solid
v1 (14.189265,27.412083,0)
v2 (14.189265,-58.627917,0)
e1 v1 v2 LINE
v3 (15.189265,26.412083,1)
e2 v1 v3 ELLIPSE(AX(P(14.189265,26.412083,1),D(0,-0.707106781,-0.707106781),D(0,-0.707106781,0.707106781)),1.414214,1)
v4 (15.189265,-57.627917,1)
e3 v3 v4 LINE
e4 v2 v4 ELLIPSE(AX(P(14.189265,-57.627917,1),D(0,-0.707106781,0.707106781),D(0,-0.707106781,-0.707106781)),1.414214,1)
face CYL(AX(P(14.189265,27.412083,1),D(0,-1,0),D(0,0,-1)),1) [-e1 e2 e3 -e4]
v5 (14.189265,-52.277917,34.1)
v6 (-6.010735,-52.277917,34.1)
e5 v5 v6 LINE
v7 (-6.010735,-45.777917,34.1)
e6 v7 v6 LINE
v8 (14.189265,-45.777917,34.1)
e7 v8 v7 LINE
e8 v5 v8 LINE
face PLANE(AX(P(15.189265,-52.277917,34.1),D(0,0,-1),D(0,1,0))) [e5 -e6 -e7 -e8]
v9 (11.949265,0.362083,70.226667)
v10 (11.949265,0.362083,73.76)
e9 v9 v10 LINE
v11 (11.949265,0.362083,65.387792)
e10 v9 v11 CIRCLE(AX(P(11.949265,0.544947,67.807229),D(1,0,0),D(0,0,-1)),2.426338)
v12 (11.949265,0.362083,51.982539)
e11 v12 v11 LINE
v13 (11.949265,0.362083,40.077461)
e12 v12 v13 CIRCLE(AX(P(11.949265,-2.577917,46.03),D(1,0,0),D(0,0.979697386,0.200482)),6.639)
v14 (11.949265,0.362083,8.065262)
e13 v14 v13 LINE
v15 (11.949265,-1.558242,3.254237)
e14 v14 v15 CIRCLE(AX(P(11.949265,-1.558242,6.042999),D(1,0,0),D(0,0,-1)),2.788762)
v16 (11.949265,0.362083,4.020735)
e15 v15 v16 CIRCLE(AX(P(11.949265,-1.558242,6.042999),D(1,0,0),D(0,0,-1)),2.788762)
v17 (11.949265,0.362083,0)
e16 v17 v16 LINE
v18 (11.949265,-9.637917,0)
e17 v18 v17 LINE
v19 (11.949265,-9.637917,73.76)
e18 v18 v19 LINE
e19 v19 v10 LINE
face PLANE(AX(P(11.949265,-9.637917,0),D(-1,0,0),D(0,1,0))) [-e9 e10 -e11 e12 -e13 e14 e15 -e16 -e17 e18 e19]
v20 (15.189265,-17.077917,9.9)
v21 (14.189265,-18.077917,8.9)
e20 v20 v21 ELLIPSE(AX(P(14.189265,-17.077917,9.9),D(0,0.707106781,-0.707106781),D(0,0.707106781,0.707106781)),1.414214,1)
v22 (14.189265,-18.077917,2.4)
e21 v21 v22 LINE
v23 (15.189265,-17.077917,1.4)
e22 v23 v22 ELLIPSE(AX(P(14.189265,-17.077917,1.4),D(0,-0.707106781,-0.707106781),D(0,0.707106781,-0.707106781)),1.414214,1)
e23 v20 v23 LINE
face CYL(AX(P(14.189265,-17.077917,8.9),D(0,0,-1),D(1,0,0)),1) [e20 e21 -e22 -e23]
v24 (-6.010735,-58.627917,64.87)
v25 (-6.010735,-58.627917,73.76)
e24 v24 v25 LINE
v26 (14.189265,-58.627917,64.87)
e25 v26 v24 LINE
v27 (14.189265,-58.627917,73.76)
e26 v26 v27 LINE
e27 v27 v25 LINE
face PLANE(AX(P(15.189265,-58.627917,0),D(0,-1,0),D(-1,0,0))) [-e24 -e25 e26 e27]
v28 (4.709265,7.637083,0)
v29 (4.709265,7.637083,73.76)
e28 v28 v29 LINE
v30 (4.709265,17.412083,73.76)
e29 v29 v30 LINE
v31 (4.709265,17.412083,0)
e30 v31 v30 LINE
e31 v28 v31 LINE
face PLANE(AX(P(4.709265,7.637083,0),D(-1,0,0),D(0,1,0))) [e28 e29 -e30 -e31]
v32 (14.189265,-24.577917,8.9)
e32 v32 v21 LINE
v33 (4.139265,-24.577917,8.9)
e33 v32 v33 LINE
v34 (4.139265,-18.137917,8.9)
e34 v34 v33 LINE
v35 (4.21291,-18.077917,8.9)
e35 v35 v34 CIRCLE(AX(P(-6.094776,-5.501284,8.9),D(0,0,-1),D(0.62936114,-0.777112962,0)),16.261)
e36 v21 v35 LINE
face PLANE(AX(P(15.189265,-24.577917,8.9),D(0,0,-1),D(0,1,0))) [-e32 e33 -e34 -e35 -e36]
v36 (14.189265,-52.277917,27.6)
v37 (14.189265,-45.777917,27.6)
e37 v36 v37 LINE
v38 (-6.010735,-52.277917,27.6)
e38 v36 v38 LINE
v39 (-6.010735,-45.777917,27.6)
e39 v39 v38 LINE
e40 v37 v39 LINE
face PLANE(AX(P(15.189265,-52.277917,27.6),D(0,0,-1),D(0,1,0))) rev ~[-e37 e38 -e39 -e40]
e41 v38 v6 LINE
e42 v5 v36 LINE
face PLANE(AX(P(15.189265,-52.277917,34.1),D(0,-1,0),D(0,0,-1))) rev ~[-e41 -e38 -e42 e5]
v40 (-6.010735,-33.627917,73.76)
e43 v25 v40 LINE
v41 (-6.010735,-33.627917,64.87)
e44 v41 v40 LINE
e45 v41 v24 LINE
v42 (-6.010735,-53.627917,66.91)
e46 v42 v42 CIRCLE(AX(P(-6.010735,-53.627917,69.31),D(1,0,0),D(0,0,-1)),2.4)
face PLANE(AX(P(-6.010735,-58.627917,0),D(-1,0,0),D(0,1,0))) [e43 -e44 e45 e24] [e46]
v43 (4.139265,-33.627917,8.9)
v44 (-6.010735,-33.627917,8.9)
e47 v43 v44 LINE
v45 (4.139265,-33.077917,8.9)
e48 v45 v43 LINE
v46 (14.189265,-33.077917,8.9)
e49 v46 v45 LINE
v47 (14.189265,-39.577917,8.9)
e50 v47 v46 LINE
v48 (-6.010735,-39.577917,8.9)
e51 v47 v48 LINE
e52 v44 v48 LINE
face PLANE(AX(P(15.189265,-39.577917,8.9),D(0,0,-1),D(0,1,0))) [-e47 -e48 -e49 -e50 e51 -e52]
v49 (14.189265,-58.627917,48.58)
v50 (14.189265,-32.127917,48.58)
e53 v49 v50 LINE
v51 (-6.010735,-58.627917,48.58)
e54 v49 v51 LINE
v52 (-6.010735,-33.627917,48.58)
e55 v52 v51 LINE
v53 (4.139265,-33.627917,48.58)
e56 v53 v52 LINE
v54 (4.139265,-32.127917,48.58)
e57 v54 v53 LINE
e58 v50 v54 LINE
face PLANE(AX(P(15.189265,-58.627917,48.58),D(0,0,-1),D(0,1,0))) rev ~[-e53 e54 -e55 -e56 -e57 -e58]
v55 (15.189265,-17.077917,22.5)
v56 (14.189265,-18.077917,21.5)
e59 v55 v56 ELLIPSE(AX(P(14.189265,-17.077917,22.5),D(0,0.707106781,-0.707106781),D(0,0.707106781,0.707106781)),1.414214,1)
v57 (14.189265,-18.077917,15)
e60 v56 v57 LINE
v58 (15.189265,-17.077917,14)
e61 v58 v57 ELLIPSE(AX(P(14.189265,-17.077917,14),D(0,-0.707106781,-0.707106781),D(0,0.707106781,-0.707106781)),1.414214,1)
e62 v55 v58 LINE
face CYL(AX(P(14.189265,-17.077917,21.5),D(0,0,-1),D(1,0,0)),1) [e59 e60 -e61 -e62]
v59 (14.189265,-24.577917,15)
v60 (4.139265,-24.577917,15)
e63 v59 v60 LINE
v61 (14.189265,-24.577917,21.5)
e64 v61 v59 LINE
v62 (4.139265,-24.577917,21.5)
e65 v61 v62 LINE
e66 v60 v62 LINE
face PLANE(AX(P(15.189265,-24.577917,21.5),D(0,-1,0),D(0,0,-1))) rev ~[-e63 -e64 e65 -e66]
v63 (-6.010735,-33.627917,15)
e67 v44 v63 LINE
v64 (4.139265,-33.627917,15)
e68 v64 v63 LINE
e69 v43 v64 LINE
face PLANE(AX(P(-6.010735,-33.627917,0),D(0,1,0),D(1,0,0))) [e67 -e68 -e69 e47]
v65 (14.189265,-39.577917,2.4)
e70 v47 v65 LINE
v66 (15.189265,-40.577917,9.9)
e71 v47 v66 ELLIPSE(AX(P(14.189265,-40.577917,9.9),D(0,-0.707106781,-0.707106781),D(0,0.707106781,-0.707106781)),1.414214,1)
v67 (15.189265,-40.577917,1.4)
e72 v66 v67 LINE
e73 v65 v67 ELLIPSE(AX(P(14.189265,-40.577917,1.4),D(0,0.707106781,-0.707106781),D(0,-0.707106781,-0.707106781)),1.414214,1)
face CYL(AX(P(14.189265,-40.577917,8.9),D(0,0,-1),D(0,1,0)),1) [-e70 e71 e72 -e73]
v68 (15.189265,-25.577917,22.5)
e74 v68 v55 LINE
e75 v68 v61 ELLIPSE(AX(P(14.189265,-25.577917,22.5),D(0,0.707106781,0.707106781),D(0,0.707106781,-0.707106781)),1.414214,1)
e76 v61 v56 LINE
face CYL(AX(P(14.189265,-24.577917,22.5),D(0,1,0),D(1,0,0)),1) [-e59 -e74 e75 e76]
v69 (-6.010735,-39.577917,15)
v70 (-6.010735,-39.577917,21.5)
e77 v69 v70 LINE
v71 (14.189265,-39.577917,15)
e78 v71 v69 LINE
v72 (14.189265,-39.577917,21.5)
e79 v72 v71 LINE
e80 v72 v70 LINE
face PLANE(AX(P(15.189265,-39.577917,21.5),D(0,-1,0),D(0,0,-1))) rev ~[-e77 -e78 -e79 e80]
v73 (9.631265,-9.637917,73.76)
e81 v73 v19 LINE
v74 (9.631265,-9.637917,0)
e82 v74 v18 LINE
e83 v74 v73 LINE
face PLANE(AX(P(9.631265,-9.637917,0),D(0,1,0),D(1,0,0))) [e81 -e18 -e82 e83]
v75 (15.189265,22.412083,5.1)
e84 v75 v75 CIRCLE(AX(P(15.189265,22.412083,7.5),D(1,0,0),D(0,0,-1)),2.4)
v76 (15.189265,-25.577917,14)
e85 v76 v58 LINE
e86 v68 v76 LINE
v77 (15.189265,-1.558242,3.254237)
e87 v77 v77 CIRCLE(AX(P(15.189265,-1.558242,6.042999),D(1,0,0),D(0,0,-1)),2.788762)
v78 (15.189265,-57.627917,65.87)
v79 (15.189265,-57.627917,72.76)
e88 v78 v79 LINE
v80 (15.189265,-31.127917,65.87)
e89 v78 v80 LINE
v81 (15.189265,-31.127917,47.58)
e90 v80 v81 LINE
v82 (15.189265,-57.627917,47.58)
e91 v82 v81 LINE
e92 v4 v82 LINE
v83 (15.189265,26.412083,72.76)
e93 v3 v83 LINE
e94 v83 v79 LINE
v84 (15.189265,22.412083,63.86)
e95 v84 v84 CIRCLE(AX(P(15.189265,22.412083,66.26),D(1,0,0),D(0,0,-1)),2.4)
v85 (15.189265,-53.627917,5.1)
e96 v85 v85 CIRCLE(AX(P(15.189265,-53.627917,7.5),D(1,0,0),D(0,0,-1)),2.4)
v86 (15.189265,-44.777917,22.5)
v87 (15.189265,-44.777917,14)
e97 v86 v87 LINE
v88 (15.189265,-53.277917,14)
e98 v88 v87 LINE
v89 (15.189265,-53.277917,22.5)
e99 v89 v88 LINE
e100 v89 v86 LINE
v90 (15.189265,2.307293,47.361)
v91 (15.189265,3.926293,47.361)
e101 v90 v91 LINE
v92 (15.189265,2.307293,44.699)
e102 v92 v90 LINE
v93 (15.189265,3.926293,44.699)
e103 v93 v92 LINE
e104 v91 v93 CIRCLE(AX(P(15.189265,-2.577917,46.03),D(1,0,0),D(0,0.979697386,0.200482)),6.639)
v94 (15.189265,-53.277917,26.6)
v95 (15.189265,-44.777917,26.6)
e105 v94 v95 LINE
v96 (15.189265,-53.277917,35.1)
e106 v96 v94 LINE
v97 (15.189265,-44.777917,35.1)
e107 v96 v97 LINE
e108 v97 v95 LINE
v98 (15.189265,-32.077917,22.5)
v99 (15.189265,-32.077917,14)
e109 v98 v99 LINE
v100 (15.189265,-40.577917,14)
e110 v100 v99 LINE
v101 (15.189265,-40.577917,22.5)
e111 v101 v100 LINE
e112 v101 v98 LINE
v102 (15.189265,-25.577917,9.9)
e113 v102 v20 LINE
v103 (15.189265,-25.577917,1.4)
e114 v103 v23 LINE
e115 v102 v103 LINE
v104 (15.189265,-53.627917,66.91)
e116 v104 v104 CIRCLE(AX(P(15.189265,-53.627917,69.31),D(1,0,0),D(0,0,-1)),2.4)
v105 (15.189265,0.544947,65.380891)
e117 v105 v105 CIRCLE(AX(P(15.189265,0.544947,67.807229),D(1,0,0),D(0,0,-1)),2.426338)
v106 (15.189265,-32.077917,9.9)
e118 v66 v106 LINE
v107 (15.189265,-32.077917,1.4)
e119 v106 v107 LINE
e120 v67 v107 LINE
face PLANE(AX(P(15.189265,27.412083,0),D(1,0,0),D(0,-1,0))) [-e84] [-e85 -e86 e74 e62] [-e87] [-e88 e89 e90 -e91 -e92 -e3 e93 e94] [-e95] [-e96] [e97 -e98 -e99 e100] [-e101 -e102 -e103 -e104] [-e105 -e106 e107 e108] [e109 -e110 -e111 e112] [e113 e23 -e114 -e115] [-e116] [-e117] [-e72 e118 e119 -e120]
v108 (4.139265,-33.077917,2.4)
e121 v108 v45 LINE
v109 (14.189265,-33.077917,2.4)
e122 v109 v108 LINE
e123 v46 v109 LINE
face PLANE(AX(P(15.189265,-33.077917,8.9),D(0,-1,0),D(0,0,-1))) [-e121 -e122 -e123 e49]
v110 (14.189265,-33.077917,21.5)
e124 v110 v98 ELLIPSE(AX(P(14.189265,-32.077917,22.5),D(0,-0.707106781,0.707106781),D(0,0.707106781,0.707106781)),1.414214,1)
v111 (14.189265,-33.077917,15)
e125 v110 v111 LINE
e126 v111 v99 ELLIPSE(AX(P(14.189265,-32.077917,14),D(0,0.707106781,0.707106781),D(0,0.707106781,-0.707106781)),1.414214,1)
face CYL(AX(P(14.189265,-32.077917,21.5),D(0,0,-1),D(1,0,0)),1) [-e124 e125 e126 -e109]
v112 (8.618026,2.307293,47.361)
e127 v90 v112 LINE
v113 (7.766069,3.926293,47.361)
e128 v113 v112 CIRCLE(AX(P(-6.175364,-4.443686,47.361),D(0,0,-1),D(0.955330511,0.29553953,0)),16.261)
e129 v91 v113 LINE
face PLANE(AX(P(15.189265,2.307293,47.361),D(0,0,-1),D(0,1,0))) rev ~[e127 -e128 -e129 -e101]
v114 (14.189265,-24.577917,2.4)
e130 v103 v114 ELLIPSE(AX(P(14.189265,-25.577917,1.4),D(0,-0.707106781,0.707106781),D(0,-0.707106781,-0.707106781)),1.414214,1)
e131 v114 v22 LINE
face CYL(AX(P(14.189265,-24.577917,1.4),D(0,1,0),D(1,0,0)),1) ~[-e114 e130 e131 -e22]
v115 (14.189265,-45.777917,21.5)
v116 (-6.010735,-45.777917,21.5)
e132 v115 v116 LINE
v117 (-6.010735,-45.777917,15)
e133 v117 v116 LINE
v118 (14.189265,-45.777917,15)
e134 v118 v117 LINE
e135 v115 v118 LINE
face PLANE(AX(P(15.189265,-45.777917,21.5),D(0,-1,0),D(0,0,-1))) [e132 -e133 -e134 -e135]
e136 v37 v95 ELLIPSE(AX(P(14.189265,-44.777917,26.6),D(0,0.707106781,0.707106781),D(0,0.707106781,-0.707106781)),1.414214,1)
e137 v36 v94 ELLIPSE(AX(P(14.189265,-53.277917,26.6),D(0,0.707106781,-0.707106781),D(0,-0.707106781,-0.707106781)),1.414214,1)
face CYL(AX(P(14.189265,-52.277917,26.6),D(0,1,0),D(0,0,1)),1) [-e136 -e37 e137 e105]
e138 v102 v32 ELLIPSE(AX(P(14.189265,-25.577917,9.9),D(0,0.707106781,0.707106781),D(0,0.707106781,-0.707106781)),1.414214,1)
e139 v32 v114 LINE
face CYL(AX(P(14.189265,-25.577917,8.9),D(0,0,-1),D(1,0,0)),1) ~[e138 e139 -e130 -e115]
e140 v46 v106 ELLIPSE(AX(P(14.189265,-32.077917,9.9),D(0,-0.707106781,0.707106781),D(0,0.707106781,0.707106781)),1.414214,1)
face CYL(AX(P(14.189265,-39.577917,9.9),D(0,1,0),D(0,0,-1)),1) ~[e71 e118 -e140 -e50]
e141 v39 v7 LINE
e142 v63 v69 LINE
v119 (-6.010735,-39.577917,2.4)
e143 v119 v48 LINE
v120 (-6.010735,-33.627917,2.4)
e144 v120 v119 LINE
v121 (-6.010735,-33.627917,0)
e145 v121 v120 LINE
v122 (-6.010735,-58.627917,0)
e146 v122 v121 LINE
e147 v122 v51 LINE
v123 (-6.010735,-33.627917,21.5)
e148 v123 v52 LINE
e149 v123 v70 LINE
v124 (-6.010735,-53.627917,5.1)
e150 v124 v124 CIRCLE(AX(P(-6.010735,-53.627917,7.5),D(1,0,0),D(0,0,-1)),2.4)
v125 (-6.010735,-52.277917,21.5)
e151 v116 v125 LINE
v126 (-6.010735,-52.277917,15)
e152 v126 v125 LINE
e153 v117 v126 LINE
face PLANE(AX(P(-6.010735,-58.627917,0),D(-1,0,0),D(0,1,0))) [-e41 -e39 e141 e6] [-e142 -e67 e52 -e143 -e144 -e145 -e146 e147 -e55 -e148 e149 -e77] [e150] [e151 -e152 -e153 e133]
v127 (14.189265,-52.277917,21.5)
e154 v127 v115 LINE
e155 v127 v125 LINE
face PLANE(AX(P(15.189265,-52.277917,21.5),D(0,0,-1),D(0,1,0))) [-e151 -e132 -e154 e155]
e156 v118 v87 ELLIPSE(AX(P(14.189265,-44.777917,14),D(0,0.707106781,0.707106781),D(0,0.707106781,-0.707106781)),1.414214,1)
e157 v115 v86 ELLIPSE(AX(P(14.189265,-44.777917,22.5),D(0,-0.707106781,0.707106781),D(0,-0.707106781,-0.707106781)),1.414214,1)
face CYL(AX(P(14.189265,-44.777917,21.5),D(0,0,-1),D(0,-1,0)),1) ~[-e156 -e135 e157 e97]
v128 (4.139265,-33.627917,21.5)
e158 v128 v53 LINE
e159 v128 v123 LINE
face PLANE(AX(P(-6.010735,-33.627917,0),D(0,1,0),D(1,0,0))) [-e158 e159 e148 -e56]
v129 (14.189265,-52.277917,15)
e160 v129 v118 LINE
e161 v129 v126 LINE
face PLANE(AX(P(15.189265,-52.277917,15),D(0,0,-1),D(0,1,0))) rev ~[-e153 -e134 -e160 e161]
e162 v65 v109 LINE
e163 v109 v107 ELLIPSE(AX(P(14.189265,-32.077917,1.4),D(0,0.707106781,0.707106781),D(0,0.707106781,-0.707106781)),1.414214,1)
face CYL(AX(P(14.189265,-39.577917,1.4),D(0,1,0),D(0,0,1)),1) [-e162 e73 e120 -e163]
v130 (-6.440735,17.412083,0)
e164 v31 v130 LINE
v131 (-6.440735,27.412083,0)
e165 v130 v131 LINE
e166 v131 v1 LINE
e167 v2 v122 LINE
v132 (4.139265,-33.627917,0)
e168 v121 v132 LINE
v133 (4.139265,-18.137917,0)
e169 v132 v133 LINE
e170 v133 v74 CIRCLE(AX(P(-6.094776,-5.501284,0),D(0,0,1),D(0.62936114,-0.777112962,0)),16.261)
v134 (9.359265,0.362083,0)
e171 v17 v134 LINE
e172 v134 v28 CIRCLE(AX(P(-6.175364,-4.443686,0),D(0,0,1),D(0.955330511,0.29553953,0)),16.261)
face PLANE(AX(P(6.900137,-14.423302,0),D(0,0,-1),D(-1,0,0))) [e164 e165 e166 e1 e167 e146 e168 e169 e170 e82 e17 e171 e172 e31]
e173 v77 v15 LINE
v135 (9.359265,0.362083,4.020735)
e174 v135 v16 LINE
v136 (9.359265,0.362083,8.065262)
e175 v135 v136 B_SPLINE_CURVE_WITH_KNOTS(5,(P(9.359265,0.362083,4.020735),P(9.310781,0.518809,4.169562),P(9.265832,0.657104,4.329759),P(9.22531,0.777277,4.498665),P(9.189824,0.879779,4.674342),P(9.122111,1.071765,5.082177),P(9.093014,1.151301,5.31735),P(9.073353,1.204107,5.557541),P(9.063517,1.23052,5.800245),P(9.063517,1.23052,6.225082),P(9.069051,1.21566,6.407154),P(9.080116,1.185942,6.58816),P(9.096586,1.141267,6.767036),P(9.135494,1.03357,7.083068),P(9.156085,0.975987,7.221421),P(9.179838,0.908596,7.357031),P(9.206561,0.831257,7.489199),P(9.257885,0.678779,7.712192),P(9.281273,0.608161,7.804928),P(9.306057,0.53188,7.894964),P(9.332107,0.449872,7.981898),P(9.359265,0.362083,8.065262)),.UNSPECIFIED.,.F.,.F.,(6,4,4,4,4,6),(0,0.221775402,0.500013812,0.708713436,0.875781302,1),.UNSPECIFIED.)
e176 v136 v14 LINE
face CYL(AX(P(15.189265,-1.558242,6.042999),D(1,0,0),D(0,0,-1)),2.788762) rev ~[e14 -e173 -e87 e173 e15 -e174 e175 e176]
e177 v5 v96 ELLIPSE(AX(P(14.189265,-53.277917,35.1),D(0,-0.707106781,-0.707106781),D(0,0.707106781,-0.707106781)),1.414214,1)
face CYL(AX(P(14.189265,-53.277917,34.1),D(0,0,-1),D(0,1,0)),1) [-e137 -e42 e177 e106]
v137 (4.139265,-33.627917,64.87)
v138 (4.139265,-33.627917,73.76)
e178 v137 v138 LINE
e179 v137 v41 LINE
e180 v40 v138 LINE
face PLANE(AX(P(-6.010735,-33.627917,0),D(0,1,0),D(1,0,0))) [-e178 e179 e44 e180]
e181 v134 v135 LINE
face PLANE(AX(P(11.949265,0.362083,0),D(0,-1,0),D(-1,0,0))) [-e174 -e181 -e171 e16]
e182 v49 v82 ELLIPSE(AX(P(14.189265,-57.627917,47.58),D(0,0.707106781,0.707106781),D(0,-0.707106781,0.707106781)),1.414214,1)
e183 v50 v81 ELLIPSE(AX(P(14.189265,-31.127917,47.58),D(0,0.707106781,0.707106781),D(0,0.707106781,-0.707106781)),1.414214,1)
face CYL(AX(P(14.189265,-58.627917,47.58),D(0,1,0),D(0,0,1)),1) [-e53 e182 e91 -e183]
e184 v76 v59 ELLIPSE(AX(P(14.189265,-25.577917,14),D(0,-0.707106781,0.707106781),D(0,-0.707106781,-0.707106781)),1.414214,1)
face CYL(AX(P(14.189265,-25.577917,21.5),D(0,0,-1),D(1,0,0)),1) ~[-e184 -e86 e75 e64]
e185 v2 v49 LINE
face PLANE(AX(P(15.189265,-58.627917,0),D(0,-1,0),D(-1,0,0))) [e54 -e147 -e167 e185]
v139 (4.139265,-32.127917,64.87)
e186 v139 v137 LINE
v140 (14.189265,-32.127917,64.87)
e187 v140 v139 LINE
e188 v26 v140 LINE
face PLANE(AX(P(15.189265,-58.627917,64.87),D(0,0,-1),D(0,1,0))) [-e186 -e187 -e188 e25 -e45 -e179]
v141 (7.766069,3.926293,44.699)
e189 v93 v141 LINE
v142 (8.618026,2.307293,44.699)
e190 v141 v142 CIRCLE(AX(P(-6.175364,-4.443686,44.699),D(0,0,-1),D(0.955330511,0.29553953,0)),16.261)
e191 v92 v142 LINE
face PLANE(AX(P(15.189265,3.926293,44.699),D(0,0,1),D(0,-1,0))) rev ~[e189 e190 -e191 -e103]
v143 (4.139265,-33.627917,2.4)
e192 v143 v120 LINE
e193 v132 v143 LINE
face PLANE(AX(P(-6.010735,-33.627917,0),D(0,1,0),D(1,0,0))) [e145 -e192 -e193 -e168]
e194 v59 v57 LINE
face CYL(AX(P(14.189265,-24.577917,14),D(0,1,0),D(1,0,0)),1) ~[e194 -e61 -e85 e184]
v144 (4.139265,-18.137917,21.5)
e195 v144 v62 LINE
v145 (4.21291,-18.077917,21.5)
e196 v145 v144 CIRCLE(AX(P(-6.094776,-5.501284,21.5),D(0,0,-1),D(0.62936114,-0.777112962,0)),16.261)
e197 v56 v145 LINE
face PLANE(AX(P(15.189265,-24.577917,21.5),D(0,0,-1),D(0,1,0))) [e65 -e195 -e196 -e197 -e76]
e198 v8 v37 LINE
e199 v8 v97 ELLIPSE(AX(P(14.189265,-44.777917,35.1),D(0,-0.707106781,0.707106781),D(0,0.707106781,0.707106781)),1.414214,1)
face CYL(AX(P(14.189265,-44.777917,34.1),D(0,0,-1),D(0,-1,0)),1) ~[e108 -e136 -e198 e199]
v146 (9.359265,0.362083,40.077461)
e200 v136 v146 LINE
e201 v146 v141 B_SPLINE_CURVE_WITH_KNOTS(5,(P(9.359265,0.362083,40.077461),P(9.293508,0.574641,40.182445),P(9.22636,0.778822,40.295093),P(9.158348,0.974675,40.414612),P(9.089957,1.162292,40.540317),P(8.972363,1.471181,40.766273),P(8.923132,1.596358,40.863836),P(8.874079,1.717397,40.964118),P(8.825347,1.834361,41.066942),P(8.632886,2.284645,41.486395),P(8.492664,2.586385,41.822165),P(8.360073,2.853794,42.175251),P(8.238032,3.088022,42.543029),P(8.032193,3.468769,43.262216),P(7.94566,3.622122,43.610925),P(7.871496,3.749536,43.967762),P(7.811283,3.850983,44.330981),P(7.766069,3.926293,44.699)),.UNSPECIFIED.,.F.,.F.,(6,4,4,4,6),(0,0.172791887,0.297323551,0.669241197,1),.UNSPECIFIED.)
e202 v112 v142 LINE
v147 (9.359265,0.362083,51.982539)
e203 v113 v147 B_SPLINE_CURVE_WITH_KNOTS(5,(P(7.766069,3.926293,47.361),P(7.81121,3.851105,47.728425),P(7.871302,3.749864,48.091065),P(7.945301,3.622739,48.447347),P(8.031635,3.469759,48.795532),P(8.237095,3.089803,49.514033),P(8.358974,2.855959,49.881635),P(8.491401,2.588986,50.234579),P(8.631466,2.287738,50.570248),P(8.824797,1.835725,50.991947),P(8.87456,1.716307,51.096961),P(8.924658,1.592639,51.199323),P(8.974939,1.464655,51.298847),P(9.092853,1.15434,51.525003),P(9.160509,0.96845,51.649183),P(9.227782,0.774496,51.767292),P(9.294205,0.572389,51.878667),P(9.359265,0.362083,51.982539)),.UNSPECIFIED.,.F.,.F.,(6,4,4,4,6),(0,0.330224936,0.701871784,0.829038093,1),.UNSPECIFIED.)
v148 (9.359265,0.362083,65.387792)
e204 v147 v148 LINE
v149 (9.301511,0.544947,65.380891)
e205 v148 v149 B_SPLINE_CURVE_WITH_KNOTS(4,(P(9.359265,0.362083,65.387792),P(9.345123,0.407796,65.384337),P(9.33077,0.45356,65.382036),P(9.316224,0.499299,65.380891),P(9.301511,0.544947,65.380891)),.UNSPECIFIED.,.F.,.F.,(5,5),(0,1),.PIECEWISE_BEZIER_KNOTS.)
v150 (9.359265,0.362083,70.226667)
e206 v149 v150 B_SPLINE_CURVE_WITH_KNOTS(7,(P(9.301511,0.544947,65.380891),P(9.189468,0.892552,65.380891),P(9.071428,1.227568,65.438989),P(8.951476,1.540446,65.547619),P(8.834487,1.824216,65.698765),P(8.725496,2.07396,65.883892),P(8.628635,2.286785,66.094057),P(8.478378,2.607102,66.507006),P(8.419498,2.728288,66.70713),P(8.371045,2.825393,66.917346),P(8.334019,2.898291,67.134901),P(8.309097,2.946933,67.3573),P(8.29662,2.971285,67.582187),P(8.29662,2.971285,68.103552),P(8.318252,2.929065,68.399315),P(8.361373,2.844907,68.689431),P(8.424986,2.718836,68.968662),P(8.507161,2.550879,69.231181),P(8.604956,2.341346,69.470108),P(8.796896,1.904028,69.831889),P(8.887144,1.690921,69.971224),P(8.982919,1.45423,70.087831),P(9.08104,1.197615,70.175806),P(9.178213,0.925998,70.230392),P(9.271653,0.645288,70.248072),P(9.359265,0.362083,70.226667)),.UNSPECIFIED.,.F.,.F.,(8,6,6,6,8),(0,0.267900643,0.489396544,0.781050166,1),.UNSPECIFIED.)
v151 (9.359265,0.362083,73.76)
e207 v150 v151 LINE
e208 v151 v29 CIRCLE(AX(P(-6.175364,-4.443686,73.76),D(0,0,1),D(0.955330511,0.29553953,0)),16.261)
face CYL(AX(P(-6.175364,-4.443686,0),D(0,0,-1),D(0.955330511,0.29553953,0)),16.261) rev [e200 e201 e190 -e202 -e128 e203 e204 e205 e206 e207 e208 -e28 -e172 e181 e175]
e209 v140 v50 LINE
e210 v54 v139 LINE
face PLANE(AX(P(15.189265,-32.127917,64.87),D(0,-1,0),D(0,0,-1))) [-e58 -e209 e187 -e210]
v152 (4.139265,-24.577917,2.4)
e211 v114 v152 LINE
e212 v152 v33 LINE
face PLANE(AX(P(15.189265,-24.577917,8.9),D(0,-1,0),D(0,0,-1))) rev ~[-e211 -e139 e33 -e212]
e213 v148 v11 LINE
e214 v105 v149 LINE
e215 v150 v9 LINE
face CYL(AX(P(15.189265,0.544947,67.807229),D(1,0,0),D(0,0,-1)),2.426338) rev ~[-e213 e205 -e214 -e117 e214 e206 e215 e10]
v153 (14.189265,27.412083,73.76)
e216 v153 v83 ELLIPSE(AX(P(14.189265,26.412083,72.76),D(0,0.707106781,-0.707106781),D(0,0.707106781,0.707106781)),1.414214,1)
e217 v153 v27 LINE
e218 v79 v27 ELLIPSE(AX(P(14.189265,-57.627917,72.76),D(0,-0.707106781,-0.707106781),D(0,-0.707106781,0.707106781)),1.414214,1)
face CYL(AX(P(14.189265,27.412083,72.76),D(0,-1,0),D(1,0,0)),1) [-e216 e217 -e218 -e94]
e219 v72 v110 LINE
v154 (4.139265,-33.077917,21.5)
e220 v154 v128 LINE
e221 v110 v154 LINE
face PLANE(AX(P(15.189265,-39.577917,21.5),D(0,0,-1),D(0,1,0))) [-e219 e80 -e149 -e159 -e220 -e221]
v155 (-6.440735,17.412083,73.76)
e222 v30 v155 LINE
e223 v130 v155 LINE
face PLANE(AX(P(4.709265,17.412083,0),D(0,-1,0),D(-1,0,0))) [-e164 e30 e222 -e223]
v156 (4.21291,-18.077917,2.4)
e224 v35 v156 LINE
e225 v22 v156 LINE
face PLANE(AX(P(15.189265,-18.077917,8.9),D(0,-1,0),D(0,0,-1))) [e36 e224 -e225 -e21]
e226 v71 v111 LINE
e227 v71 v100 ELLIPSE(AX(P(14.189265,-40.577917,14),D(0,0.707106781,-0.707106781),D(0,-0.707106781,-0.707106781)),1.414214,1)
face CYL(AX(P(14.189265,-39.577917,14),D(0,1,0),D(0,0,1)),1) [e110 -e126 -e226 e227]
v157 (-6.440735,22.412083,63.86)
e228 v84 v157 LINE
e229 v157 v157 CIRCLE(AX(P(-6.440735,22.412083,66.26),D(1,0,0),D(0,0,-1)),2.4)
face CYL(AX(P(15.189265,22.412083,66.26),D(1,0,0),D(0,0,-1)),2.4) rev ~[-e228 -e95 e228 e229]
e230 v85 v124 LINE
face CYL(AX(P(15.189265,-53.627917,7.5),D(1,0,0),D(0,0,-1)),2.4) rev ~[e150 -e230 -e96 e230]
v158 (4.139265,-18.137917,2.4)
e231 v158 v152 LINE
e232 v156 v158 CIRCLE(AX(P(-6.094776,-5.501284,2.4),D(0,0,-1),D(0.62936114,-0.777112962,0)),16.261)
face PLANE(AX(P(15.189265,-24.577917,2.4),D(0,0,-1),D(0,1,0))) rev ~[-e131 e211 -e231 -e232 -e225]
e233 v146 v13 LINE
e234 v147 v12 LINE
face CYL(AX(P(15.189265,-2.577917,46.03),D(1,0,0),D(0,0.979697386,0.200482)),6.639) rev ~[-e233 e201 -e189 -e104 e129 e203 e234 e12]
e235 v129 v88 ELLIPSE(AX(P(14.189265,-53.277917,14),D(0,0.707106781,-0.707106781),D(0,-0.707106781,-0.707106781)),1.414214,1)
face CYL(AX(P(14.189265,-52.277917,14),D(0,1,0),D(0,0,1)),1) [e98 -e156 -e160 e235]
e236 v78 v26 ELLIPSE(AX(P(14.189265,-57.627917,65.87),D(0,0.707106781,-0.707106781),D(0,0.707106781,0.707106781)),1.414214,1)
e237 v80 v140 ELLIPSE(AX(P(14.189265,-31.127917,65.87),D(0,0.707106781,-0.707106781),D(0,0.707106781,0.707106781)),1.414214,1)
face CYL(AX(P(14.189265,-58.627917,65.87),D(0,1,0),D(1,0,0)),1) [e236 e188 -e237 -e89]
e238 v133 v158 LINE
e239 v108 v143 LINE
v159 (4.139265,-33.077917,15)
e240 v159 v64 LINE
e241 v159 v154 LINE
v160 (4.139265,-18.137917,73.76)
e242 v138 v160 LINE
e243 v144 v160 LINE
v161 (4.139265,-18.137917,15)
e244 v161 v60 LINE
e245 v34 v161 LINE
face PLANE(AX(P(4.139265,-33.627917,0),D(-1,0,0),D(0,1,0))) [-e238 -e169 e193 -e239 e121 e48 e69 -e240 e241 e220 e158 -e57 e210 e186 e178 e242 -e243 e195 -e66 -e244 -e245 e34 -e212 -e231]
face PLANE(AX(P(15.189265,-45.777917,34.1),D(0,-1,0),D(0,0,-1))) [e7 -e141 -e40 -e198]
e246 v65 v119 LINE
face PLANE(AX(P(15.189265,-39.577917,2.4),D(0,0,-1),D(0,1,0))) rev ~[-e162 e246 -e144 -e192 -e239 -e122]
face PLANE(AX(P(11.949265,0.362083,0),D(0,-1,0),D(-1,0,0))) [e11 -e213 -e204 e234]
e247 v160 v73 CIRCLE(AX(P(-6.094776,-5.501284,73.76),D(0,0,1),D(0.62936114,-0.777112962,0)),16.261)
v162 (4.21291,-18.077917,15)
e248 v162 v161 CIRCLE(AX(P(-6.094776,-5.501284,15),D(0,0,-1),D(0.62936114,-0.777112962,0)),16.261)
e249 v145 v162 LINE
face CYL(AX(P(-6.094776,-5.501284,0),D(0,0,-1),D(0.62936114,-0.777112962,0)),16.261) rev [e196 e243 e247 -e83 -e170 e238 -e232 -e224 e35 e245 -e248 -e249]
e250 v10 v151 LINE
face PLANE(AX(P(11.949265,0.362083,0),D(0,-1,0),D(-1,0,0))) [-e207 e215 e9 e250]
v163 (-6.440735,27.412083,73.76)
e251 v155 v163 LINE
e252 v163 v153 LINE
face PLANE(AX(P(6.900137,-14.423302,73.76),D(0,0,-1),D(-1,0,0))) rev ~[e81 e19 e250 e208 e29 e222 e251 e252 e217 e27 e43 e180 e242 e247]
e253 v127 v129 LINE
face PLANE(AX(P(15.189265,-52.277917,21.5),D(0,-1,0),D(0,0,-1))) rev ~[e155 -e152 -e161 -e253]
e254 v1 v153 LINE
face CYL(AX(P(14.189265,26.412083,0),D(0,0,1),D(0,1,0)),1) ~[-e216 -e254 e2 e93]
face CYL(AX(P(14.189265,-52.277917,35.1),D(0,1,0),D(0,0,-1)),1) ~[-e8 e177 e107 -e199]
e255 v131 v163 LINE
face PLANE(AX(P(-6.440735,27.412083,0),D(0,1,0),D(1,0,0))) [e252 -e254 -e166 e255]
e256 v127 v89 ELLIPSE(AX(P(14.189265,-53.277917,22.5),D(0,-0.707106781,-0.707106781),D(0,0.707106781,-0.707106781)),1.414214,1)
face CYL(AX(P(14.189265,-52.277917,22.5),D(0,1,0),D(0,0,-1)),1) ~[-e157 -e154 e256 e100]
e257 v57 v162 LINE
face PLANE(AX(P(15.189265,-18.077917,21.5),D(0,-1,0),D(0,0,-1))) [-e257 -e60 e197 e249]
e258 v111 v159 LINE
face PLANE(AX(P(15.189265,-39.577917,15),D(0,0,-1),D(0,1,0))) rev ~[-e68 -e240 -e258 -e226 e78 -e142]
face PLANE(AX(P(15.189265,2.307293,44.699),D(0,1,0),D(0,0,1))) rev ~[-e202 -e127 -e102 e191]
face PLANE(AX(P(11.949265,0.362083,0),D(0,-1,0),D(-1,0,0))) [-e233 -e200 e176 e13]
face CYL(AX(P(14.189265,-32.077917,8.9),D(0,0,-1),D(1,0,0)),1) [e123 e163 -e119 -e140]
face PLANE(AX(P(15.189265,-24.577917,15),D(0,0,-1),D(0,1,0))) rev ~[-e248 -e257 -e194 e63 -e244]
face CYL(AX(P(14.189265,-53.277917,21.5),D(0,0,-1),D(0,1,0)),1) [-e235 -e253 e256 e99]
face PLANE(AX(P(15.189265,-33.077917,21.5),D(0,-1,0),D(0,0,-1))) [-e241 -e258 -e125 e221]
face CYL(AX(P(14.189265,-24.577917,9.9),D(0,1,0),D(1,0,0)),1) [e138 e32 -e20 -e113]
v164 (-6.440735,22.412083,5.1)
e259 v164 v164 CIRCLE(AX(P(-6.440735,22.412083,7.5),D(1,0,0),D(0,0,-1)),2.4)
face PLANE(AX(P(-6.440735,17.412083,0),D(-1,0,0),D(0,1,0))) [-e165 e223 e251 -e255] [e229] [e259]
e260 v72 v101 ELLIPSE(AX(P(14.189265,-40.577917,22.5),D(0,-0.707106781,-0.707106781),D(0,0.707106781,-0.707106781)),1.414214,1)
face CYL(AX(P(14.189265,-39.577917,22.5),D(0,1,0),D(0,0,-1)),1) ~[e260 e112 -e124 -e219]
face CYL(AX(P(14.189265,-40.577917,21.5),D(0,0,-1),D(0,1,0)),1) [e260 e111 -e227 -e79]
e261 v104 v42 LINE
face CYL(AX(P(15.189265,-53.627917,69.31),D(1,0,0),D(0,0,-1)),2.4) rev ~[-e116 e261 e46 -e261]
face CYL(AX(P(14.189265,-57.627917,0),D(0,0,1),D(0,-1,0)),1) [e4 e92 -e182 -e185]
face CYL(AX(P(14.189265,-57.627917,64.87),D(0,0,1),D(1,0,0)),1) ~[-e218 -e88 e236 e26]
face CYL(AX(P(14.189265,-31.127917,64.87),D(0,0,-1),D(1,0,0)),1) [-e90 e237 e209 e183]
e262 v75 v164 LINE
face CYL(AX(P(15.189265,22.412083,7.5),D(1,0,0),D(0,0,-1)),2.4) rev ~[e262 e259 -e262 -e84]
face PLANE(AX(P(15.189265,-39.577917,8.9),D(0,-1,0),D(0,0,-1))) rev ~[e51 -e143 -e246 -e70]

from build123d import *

# Parameters (mm, degrees)
PROFILEEXTRUDE_DEPTH = 73.76
HOSEWINDOW_W         = 16.29
HOSEWINDOW_H         = 26.5
HOSEWINDOWCUT_DEPTH  = 22.63
CAGESCREWS_R         = 2.4
CAGESCREWSCUT_DEPTH  = 22.63
AXLEHOLECUT_DEPTH    = 22.63
SETSCREWS_R          = 2.426338021
SETSCREWS_R_2        = 2.788762315
SETSCREWSCUT_DEPTH   = 22.63
SKETCH1_W            = 6.5
SKETCH1_H            = 6.5
CUT_EXTRUDE1_DEPTH   = 22.63
FILLET1_R            = 1


with BuildPart() as part:
    # Profile → ProfileExtrude (new body)
    with BuildSketch(Plane.XY):
        with BuildLine():
            Line((-6.01073477, -58.62791746), (-6.01073477, -33.62791746))
            Line((-6.01073477, -33.62791746), (4.13926523, -33.62791746))
            Line((4.13926523, -33.62791746), (4.13926523, -18.13791746))
            ThreePointArc((4.13926523, -18.13791746), (7.563334043, -14.326029686), (9.63126523, -9.63791746))
            Line((9.63126523, -9.63791746), (11.94926523, -9.63791746))
            Line((11.94926523, -9.63791746), (11.94926523, 0.36208254))
            Line((11.94926523, 0.36208254), (9.35926523, 0.36208254))
            ThreePointArc((9.35926523, 0.36208254), (7.525939238, 4.313848402), (4.70926523, 7.63708254))
            Line((4.70926523, 7.63708254), (4.70926523, 17.41208254))
            Line((4.70926523, 17.41208254), (-6.44073477, 17.41208254))
            Line((-6.44073477, 17.41208254), (-6.44073477, 27.41208254))
            Line((-6.44073477, 27.41208254), (15.18926523, 27.41208254))
            Line((15.18926523, 27.41208254), (15.18926523, -58.62791746))
            Line((15.18926523, -58.62791746), (-6.01073477, -58.62791746))
        make_face()
    extrude(amount=PROFILEEXTRUDE_DEPTH)

    # HoseWindow → HoseWindowCut (cut, through all)
    with BuildSketch(Plane(origin=(15.18926523, 0, 0), x_dir=(0, 0, -1), z_dir=(1, 0, 0))):
        with Locations((-56.725, -45.37791746)):
            Rectangle(HOSEWINDOW_W, HOSEWINDOW_H)
    extrude(amount=-HOSEWINDOWCUT_DEPTH, mode=Mode.SUBTRACT)

    # CageScrews → CageScrewsCut (cut, through all)
    with BuildSketch(Plane(origin=(15.18926523, 0, 0), x_dir=(0, 0, -1), z_dir=(1, 0, 0))):
        with Locations((-66.26, 22.41208254)):
            Circle(CAGESCREWS_R)
        with Locations((-7.5, 22.41208254)):
            Circle(CAGESCREWS_R)
        with Locations((-7.5, -53.62791746)):
            Circle(CAGESCREWS_R)
        with Locations((-69.31, -53.62791746)):
            Circle(CAGESCREWS_R)
    extrude(amount=-CAGESCREWSCUT_DEPTH, mode=Mode.SUBTRACT)

    # AxleHole → AxleHoleCut (cut, through all)
    with BuildSketch(Plane(origin=(15.18926523, 0, 0), x_dir=(0, 0, -1), z_dir=(1, 0, 0))):
        with BuildLine():
            Line((-44.699, 2.307293484), (-47.361, 2.307293484))
            Line((-47.361, 2.307293484), (-47.361, 3.926293484))
            ThreePointArc((-47.361, 3.926293484), (-46.03, -9.21691746), (-44.699, 3.926293484))
            Line((-44.699, 3.926293484), (-44.699, 2.307293484))
        make_face()
    extrude(amount=-AXLEHOLECUT_DEPTH, mode=Mode.SUBTRACT)

    # SetScrews → SetScrewsCut (cut, through all)
    with BuildSketch(Plane(origin=(15.18926523, 0, 0), x_dir=(0, 0, -1), z_dir=(1, 0, 0))):
        with Locations((-67.80722939, 0.544946624)):
            Circle(SETSCREWS_R)
        with Locations((-6.04299884, -1.55824191)):
            Circle(SETSCREWS_R_2)
    extrude(amount=-SETSCREWSCUT_DEPTH, mode=Mode.SUBTRACT)

    # Sketch1 → Cut-Extrude1 (cut, through all)
    with BuildSketch(Plane(origin=(15.18926523, 0, 0), x_dir=(0, 0, -1), z_dir=(1, 0, 0))):
        with Locations((-18.25, -49.02791746)):
            Rectangle(SKETCH1_W, SKETCH1_H)
        with Locations((-30.85, -49.02791746)):
            Rectangle(SKETCH1_W, SKETCH1_H)
        with Locations((-5.65, -36.32791746)):
            Rectangle(SKETCH1_W, SKETCH1_H)
        with Locations((-18.25, -36.32791746)):
            Rectangle(SKETCH1_W, SKETCH1_H)
        with Locations((-5.65, -21.32791746)):
            Rectangle(SKETCH1_W, SKETCH1_H)
        with Locations((-18.25, -21.32791746)):
            Rectangle(SKETCH1_W, SKETCH1_H)
    extrude(amount=-CUT_EXTRUDE1_DEPTH, mode=Mode.SUBTRACT)

    # Fillet1
    fillet1_edges = [part.edges().sort_by_distance(p)[0] for p in [
        (15.18926523, -45.77791746, 18.25),
        (15.18926523, -49.02791746, 21.5),
        (15.18926523, -52.27791746, 18.25),
        (15.18926523, -49.02791746, 15),
        (15.18926523, -49.02791746, 34.1),
        (15.18926523, -52.27791746, 30.85),
        (15.18926523, -49.02791746, 27.6),
        (15.18926523, -45.77791746, 30.85),
        (15.18926523, -36.32791746, 8.9),
        (15.18926523, -39.57791746, 5.65),
        (15.18926523, -36.32791746, 2.4),
        (15.18926523, -33.07791746, 5.65),
        (15.18926523, -15.60791746, 0),
        (15.18926523, -36.32791746, 21.5),
        (15.18926523, -39.57791746, 18.25),
        (15.18926523, -36.32791746, 15),
        (15.18926523, -33.07791746, 18.25),
        (15.18926523, -21.32791746, 8.9),
        (15.18926523, -24.57791746, 5.65),
        (15.18926523, -21.32791746, 2.4),
        (15.18926523, -18.07791746, 5.65),
        (15.18926523, -58.62791746, 69.315),
        (15.18926523, -21.32791746, 21.5),
        (15.18926523, -24.57791746, 18.25),
        (15.18926523, -21.32791746, 15),
        (15.18926523, -18.07791746, 18.25),
        (15.18926523, 27.41208254, 36.88),
        (15.18926523, -58.62791746, 24.29),
        (15.18926523, -15.60791746, 73.76),
        (15.18926523, -45.37791746, 64.87),
        (15.18926523, -45.37791746, 48.58),
        (15.18926523, -32.12791746, 56.725),
    ]]
    fillet(fillet1_edges, radius=FILLET1_R)


solid = part.part
